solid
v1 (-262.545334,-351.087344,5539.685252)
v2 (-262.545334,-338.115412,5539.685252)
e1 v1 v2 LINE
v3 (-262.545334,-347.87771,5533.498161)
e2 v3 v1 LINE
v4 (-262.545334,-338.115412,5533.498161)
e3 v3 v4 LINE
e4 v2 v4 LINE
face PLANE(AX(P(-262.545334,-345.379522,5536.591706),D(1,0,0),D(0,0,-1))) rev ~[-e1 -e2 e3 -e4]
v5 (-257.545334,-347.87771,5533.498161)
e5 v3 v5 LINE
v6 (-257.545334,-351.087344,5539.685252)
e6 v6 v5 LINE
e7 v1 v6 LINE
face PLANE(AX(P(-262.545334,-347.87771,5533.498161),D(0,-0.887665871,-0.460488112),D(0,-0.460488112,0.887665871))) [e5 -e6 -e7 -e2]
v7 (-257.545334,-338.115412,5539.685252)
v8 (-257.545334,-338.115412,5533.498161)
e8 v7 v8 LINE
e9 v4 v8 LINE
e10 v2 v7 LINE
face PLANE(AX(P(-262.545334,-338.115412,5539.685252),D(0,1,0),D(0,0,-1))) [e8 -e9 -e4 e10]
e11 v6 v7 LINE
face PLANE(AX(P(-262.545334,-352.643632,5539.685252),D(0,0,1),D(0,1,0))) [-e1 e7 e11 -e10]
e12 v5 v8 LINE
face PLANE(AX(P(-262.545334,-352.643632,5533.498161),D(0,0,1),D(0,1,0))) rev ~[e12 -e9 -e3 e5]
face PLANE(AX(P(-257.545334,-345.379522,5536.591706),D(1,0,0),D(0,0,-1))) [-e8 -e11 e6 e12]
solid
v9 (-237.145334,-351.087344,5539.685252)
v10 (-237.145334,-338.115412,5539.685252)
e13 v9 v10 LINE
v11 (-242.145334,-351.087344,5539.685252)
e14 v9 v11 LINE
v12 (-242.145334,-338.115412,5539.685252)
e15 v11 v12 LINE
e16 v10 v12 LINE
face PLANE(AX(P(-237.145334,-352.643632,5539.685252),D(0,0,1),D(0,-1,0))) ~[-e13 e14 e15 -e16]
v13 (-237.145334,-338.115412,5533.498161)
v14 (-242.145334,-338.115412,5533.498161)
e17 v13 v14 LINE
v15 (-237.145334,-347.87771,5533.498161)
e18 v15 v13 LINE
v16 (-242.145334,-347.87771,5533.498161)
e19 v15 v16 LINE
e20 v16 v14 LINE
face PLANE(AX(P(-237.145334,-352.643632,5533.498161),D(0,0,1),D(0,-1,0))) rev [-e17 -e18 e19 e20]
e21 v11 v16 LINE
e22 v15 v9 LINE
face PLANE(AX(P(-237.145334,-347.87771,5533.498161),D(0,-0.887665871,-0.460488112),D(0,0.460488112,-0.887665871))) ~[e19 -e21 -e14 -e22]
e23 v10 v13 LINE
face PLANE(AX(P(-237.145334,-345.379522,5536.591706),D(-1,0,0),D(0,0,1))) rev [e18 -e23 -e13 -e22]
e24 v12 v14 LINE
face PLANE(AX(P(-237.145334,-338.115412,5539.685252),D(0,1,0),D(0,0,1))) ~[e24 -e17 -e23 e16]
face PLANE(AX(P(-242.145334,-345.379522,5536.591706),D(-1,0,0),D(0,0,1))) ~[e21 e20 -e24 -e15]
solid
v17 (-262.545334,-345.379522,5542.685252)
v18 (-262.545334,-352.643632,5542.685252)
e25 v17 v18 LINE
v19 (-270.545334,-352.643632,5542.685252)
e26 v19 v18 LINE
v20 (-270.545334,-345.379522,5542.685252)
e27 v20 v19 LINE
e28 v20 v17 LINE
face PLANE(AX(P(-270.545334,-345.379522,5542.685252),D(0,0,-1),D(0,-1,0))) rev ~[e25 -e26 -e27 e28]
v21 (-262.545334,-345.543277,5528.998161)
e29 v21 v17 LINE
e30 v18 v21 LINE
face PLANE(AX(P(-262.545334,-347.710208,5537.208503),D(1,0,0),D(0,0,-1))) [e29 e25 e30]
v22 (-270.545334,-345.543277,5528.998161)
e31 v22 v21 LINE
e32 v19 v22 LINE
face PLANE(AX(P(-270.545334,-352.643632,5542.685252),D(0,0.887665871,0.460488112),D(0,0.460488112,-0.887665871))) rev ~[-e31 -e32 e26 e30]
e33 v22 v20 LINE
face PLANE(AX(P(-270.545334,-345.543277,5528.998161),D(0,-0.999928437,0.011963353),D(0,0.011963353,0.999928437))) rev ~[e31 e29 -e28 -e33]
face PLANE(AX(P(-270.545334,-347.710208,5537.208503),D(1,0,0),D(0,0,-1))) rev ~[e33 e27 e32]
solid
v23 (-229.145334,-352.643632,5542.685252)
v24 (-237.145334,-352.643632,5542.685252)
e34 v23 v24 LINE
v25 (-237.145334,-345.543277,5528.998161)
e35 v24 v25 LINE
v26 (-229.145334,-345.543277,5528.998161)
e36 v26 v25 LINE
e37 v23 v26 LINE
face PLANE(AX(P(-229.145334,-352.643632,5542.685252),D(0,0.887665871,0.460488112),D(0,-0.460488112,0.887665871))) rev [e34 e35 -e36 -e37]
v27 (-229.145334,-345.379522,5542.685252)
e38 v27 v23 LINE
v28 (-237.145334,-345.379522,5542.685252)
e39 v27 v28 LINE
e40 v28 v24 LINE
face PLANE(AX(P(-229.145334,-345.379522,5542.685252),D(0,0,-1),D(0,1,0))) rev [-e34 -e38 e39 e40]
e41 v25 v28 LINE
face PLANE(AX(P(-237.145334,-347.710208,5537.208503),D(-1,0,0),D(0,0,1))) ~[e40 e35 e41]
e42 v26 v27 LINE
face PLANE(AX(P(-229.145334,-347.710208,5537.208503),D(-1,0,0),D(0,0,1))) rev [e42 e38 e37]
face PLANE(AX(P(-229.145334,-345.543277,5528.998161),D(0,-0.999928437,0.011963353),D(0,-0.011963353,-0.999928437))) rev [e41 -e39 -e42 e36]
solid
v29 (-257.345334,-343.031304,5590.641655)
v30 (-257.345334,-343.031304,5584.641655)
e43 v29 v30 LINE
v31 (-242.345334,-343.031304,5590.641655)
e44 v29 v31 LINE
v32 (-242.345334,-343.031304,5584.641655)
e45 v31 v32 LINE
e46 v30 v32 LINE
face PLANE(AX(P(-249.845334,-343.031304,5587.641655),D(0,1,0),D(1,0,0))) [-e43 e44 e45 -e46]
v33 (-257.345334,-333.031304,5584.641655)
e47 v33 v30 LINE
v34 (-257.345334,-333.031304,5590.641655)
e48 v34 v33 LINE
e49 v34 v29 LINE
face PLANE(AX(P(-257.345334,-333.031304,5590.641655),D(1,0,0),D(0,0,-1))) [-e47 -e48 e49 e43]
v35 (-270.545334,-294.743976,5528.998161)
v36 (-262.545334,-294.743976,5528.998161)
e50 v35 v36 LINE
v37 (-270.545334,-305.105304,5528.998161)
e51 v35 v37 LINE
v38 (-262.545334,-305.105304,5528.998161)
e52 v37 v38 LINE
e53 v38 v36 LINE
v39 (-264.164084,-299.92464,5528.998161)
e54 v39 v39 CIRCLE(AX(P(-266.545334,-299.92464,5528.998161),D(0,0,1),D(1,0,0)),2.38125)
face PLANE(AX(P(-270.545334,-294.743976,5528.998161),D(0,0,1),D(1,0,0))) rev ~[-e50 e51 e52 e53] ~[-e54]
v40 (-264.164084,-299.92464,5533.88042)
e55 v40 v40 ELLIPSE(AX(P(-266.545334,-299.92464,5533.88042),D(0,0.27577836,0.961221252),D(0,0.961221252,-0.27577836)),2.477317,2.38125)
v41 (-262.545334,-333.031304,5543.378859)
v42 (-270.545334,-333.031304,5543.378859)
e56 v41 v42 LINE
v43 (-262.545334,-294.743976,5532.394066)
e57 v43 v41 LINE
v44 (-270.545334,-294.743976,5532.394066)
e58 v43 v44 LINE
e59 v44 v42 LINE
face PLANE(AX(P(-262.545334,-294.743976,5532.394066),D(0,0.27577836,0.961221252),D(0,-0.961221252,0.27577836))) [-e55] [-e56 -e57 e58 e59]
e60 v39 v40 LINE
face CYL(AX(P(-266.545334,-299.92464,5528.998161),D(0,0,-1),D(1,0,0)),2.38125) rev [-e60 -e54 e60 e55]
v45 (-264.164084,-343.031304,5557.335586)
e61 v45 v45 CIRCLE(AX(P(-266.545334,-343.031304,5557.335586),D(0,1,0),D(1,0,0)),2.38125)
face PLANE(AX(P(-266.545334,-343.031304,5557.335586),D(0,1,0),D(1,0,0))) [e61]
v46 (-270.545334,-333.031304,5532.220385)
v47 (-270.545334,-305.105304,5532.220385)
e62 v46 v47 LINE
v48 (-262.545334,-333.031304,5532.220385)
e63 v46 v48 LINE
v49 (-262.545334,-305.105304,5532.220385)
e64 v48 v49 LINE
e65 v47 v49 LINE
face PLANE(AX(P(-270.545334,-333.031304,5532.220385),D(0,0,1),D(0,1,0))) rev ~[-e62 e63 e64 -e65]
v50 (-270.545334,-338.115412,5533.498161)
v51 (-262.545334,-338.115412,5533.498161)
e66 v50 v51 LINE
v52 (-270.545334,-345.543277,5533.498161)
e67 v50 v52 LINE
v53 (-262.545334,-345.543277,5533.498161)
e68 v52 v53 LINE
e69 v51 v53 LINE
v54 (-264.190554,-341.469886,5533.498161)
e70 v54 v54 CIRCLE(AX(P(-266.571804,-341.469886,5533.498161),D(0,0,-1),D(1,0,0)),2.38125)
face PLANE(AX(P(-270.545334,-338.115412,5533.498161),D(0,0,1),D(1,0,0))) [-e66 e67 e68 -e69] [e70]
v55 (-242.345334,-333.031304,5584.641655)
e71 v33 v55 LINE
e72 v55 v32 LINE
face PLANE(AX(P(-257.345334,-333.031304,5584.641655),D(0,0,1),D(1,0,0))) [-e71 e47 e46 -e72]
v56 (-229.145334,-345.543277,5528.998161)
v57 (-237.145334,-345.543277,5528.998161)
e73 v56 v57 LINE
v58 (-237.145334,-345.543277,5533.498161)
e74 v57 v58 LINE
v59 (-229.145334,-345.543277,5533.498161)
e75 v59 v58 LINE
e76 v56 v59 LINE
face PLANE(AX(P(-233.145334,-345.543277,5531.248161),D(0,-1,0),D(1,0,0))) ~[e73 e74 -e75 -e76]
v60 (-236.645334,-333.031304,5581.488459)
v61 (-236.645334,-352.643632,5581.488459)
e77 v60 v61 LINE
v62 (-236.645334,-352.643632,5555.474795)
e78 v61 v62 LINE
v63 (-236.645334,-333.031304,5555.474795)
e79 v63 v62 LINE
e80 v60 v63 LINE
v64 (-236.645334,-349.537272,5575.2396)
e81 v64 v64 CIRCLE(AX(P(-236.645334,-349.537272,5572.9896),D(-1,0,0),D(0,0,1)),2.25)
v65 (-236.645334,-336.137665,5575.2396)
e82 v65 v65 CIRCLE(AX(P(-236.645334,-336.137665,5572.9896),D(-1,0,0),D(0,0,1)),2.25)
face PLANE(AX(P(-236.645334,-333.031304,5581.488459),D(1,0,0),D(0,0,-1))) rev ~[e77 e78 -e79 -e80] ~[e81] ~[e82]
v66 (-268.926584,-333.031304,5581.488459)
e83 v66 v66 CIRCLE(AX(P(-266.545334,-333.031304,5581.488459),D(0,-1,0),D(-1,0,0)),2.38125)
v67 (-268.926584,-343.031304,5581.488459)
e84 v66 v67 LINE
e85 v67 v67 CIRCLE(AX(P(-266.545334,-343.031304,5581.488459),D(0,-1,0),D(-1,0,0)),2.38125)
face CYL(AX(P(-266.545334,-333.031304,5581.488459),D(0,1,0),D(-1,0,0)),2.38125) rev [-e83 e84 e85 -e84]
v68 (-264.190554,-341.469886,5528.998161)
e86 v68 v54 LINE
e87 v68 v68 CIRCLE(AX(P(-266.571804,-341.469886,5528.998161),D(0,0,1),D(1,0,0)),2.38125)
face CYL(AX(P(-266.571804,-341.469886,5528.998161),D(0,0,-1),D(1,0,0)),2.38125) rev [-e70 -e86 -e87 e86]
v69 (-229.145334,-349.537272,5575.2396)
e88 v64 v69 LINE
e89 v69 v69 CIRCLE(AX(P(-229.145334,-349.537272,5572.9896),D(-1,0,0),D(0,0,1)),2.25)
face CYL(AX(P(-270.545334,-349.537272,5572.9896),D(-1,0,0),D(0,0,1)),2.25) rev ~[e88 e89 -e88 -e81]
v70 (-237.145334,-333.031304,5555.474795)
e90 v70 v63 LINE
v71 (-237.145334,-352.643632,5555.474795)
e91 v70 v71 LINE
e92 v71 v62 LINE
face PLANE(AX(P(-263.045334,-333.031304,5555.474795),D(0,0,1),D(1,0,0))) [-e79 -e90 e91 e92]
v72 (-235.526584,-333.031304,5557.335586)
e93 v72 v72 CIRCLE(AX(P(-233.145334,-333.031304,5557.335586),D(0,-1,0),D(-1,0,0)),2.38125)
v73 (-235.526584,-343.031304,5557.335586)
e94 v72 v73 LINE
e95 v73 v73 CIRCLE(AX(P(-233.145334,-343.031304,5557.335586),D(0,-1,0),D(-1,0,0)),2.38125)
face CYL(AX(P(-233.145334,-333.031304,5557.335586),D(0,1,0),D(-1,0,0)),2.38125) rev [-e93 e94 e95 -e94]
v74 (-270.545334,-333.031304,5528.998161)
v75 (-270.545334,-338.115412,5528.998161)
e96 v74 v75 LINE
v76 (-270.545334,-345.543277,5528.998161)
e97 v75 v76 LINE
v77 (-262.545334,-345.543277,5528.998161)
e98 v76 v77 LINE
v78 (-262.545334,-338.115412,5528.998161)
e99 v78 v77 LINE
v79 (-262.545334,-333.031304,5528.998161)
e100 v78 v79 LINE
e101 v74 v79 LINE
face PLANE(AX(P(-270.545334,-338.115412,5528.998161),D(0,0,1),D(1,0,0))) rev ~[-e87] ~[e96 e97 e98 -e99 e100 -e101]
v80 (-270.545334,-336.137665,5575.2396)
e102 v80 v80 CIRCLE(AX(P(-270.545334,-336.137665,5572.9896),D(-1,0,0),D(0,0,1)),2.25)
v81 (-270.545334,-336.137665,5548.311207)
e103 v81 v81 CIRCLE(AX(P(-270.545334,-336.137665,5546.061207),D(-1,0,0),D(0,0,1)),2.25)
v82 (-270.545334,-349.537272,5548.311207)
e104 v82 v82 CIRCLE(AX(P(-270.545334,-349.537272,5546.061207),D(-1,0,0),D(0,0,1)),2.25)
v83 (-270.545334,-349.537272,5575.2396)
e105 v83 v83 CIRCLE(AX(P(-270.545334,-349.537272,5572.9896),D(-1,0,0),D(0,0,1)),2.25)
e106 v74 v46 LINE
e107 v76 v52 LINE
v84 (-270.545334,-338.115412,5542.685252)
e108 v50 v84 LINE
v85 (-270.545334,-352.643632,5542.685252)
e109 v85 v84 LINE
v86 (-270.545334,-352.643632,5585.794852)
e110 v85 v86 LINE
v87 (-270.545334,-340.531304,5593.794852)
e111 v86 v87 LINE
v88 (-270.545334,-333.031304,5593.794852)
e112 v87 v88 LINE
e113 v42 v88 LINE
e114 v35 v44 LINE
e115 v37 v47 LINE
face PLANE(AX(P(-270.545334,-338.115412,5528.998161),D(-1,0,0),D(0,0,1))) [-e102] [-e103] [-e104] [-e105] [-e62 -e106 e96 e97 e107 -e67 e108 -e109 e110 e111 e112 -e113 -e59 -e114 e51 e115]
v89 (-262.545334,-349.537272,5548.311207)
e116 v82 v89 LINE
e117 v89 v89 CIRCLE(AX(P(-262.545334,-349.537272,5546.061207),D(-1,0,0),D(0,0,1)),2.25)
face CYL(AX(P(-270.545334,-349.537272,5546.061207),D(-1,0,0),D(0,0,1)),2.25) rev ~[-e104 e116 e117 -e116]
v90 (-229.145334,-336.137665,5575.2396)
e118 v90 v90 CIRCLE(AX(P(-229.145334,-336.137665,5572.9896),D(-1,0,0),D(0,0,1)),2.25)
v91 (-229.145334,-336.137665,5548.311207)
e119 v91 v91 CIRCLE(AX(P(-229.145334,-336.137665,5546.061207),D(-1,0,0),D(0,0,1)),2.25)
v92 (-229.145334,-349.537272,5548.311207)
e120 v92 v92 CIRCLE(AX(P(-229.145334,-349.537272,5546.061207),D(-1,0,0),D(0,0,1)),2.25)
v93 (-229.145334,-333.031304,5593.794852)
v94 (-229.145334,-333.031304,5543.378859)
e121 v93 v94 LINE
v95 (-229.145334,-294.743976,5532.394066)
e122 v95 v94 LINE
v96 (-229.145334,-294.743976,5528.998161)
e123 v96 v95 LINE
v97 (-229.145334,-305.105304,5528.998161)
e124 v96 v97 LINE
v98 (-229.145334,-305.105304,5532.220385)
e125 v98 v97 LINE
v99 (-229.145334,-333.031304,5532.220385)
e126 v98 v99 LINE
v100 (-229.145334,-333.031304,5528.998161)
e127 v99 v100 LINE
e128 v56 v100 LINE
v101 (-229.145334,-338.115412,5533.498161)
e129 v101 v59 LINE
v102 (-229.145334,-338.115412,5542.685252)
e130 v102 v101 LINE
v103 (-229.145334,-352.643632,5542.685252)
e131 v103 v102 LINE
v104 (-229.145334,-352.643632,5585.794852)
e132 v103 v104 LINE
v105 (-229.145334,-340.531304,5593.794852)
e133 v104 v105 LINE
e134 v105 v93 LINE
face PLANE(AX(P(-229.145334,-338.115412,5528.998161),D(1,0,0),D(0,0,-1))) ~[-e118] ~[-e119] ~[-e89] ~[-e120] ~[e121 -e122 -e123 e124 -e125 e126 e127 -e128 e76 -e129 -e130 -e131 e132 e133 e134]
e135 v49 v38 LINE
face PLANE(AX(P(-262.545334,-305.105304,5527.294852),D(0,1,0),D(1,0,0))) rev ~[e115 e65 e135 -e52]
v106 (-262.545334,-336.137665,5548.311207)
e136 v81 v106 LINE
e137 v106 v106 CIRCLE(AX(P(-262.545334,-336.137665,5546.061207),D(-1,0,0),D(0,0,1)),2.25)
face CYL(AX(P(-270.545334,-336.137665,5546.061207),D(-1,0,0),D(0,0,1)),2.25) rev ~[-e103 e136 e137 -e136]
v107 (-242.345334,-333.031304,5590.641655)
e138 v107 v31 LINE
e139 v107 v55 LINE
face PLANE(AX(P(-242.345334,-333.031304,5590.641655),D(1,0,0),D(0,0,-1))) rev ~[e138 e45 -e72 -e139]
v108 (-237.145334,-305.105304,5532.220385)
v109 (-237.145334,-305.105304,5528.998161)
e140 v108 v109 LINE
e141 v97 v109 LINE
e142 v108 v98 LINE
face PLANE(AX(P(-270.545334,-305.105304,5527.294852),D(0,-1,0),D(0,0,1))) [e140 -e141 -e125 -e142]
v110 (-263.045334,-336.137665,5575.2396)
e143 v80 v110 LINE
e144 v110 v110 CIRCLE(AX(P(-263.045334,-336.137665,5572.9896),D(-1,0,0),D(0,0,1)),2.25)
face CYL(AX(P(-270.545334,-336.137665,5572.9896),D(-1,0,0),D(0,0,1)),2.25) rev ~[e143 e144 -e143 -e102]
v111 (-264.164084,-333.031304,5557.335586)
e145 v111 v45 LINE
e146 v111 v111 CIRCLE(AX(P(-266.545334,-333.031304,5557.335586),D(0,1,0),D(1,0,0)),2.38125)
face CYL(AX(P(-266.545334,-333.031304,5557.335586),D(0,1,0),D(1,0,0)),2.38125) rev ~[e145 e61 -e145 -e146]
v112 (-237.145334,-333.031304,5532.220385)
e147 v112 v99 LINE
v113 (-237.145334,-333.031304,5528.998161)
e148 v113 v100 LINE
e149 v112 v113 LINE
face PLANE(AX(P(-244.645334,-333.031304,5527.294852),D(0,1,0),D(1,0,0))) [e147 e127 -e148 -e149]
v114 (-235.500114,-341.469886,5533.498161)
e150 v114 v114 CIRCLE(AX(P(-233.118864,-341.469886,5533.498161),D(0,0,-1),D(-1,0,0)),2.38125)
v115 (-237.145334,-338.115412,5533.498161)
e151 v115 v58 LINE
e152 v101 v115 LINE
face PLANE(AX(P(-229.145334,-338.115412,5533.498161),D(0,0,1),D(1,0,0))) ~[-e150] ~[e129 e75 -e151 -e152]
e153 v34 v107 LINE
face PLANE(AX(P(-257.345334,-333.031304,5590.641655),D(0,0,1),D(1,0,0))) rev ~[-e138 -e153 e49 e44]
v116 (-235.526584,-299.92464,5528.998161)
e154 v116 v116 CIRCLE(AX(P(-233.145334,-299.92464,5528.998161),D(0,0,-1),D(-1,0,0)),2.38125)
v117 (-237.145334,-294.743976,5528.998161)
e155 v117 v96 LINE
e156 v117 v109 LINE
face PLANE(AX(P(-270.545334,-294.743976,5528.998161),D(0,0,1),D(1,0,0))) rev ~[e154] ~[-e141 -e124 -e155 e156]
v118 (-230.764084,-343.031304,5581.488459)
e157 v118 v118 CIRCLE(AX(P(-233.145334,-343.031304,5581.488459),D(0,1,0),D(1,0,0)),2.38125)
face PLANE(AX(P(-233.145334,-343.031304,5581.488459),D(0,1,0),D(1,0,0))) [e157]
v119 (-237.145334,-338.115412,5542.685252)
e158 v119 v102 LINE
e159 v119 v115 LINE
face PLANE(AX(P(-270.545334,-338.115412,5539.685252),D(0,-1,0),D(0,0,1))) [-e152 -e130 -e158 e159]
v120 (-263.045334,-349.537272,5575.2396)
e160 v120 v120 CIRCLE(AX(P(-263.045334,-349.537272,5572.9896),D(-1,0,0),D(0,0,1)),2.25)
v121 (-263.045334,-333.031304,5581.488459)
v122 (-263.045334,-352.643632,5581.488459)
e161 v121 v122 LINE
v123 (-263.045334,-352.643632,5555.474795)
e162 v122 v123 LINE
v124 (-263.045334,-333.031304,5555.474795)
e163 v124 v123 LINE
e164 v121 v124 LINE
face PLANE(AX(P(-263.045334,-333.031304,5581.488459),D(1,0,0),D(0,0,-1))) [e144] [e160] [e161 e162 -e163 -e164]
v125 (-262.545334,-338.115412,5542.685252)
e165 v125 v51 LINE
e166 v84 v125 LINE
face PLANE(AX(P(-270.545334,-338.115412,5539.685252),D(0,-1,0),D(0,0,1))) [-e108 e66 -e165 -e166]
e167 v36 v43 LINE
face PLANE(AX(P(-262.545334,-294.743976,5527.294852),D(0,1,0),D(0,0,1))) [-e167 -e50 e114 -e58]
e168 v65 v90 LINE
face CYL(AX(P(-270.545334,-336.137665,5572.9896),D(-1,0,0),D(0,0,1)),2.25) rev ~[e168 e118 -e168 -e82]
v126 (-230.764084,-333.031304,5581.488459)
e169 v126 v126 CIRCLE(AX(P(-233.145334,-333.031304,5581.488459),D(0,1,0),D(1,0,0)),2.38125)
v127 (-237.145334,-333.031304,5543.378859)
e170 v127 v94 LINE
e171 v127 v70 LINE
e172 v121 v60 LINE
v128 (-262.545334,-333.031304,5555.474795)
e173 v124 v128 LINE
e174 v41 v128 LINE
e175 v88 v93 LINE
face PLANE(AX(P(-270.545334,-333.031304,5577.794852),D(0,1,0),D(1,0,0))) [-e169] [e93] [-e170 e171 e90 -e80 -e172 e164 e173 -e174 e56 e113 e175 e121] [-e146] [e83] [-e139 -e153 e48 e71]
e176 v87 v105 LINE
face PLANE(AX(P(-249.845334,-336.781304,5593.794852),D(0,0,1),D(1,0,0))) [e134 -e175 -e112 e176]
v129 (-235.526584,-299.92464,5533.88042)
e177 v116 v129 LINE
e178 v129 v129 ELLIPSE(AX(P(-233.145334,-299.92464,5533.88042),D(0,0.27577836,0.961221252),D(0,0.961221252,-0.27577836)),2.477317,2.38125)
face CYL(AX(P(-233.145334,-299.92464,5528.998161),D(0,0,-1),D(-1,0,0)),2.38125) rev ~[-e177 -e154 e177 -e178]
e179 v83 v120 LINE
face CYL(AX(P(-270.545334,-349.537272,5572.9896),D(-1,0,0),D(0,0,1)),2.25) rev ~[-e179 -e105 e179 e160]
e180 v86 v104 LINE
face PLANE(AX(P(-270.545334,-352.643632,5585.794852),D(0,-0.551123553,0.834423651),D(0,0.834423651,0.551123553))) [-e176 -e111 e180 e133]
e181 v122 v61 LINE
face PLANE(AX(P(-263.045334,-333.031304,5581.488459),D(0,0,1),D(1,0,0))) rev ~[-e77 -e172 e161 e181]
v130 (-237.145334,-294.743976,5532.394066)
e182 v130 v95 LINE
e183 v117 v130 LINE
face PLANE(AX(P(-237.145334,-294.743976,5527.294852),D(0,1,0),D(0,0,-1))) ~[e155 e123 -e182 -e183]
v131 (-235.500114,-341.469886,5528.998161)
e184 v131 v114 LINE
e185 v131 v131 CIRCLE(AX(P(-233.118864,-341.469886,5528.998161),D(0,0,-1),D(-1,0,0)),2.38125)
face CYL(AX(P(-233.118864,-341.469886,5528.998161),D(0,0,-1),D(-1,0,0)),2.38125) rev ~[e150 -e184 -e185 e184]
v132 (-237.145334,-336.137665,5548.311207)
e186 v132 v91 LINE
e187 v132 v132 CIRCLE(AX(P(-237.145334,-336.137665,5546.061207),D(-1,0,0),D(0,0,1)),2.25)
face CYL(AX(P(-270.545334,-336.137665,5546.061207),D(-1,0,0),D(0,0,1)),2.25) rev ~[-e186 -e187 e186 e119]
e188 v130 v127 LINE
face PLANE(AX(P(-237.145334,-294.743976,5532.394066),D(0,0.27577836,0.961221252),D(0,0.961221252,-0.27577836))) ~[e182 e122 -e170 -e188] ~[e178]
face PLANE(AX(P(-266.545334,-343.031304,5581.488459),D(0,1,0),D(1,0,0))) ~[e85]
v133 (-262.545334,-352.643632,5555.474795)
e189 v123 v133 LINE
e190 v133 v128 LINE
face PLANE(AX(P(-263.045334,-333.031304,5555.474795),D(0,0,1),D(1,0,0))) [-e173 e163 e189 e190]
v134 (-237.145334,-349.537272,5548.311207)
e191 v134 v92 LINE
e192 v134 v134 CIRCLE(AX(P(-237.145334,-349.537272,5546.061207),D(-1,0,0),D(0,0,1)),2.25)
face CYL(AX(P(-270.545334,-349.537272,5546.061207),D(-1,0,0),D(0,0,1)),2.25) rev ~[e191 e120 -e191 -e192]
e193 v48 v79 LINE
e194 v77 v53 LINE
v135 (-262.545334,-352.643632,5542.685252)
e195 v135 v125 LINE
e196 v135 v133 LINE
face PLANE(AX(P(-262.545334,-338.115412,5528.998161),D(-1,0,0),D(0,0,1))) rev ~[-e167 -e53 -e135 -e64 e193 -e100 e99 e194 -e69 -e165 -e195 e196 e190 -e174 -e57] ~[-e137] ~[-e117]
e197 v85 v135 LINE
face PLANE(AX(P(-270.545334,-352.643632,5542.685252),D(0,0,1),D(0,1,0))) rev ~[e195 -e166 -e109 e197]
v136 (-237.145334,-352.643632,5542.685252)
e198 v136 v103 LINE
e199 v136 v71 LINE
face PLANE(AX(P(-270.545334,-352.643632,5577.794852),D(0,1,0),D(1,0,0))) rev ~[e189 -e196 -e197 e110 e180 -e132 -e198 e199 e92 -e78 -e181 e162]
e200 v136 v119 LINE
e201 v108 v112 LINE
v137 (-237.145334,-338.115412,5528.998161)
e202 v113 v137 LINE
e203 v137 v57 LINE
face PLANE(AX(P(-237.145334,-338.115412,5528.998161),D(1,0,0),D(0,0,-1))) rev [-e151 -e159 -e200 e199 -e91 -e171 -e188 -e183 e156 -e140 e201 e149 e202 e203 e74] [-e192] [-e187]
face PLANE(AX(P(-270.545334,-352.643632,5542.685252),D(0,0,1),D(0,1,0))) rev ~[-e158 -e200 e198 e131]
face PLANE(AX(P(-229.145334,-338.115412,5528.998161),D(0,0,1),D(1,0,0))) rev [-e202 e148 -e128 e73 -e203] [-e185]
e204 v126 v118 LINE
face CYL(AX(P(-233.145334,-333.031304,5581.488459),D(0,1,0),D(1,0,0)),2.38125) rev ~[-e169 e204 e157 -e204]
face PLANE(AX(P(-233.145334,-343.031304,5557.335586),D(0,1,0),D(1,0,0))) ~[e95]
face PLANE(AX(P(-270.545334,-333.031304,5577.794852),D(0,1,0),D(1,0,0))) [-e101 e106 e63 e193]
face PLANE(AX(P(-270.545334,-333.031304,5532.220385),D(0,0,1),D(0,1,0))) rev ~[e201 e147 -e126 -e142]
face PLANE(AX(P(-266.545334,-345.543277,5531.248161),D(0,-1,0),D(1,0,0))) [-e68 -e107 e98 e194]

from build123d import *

# Parameters (mm, degrees)
SKETCH1_W             = 7.5
SKETCH1_H             = 7.5
BOSS_EXTRUDE1_DEPTH   = 5.5
BOSS_EXTRUDE1_2_DEPTH = 5.5
BOSS_EXTRUDE1_3_DEPTH = 5.5
BOSS_EXTRUDE1_4_DEPTH = 5.5
BOSS_EXTRUDE2_START   = -5.5
SKETCH2_W             = 8
SKETCH2_H             = 7.5
BOSS_EXTRUDE2_DEPTH   = 50.5
SKETCH3_W             = 41.4
SKETCH3_H             = 7.5
BOSS_EXTRUDE3_DEPTH   = 16
BOSS_EXTRUDE4_DEPTH   = 8
SKETCH5_R             = 2.5
CUT_EXTRUDE1_DEPTH    = 8
SKETCH6_W             = 38.1096
SKETCH6_H             = 12.112327922
BOSS_EXTRUDE6_DEPTH   = 8
SKETCH9_W             = 41.4
SKETCH9_H             = 12.112327922
BOSS_EXTRUDE7_DEPTH   = 8
SKETCH10_R            = 2.25
CUT_EXTRUDE2_DEPTH    = 42.4
BOSS_EXTRUDE8_DEPTH   = 8
BOSS_EXTRUDE9_DEPTH   = 8
SKETCH13_W            = 4.925533285
SKETCH13_H            = 27.926
CUT_EXTRUDE3_DEPTH    = 42.4
BOSS_EXTRUDE10_DEPTH  = 41.4
SKETCH16_W            = 26.4
SKETCH16_H            = 26.013663936
CUT_EXTRUDE5_DEPTH    = 20.612327922
SKETCH17_W            = 25.4
SKETCH17_H            = 5.5
CUT_EXTRUDE6_DEPTH    = 50
SKETCH18_W            = 41.4
SKETCH18_H            = 1.703308899
CUT_EXTRUDE7_DEPTH    = 50
SKETCH19_R            = 2.38125
CUT_EXTRUDE8_DEPTH    = 50
SKETCH21_W            = 10.687091101
SKETCH21_H            = 14.528220305
CUT_EXTRUDE10_DEPTH   = 55
SKETCH22_W            = 8
SKETCH22_H            = 4.5
BOSS_EXTRUDE11_DEPTH  = 7.42786537
SKETCH23_R            = 2.38125
CUT_EXTRUDE11_DEPTH   = 5
SKETCH25_W            = 6.187091101
SKETCH25_H            = 14.528220305
BOSS_EXTRUDE12_DEPTH  = 5
SKETCH26_W            = 3
SKETCH26_H            = 14.528220305
CUT_EXTRUDE12_DEPTH   = 42.4
BOSS_EXTRUDE15_DEPTH  = 8
CUT_EXTRUDE13_DEPTH   = 34.4
SKETCH29_W            = 15
SKETCH29_H            = 6
CUT_EXTRUDE14_DEPTH   = 10
SKETCH30_R            = 2.38125
CUT_EXTRUDE15_DEPTH   = 10
SKETCH31_R            = 2.38125
CUT_EXTRUDE16_DEPTH   = 10


with BuildPart() as part:
    # Sketch1 → Boss-Extrude1 (new body)
    with BuildSketch(Plane(origin=(-474.147028746, -1016.113518437, 5527.294851894), x_dir=(1, 0, 0), z_dir=(0, 0, 1))):
        with Locations((215.351694909, 679.332213979)):
            Rectangle(SKETCH1_W, SKETCH1_H)
    extrude(amount=BOSS_EXTRUDE1_DEPTH)

    # Sketch2 → Boss-Extrude2 (add)
    with BuildSketch(Plane.XY.offset(5532.794851894).offset(BOSS_EXTRUDE2_START)):
        with Locations((-233.145333837, -336.781304458)):
            Rectangle(SKETCH2_W, SKETCH2_H)
        with Locations((-266.545333837, -336.781304458)):
            Rectangle(SKETCH2_W, SKETCH2_H)
    boss_extrude2 = extrude(amount=BOSS_EXTRUDE2_DEPTH)

    # Sketch3 → Boss-Extrude3 (add)
    with BuildSketch(Plane.XY.offset(5577.794851894)):
        with Locations((-249.845333837, -336.781304458)):
            Rectangle(SKETCH3_W, SKETCH3_H)
    extrude(amount=BOSS_EXTRUDE3_DEPTH)



with BuildPart() as body_2:
    # Sketch1 → Boss-Extrude1 2 (new body)
    with BuildSketch(Plane(origin=(-474.147028746, -1016.113518437, 5527.294851894), x_dir=(1, 0, 0), z_dir=(0, 0, 1))):
        with Locations((233.251694909, 679.332213979)):
            Rectangle(SKETCH1_W, SKETCH1_H)
    extrude(amount=BOSS_EXTRUDE1_2_DEPTH)


with BuildPart() as body_3:
    # Sketch1 → Boss-Extrude1 3 (new body)
    with BuildSketch(Plane(origin=(-474.147028746, -1016.113518437, 5527.294851894), x_dir=(1, 0, 0), z_dir=(0, 0, 1))):
        with Locations((233.251694909, 714.758213979)):
            Rectangle(SKETCH1_W, SKETCH1_H)
    extrude(amount=BOSS_EXTRUDE1_3_DEPTH)


with BuildPart() as body_4:
    # Sketch1 → Boss-Extrude1 4 (new body)
    with BuildSketch(Plane(origin=(-474.147028746, -1016.113518437, 5527.294851894), x_dir=(1, 0, 0), z_dir=(0, 0, 1))):
        with Locations((215.351694909, 714.758213979)):
            Rectangle(SKETCH1_W, SKETCH1_H)
    extrude(amount=BOSS_EXTRUDE1_4_DEPTH)


with BuildPart() as part_1:
    add(part.part)

    add(body_4.part)  # Boss-Extrude4 merges body 4
    # Sketch4 → Boss-Extrude4 (add)
    with BuildSketch(Plane.ZY.offset(262.545333837)):
        Polygon((5527.294851894, -333.031304458), (5527.294851894, -294.74397633), (5532.394065696, -294.74397633), (5543.378858785, -333.031304458), align=None)
    boss_extrude4 = extrude(amount=BOSS_EXTRUDE4_DEPTH)

    # Mirror1: Boss-Extrude2, Boss-Extrude4 across plane
    add(boss_extrude2.mirror(Plane.ZY.offset(249.845333837)))
    add(boss_extrude4.mirror(Plane.ZY.offset(249.845333837)))


with BuildPart() as cut_extrude1_tool:
    # Sketch5 → Cut-Extrude1 (new body)
    with BuildSketch(Plane.XY.offset(5532.794851894)):
        with Locations((-258.795333837, -301.355304458)):
            Circle(SKETCH5_R)
        with Locations((-240.895333837, -301.355304458)):
            Circle(SKETCH5_R)
        with Locations((-240.895333837, -336.781304458)):
            Circle(SKETCH5_R)
        with Locations((-258.795333837, -336.781304458)):
            Circle(SKETCH5_R)
    extrude(amount=-CUT_EXTRUDE1_DEPTH)


with BuildPart() as part_2:
    add(part_1.part)

    # Cut-Extrude1: cut by cut_extrude1_tool
    add(cut_extrude1_tool.part, mode=Mode.SUBTRACT)

    # Sketch6 → Boss-Extrude6 (add)
    with BuildSketch(Plane.ZY.offset(270.545333837)):
        with Locations((5558.740051894, -346.587468419)):
            Rectangle(SKETCH6_W, SKETCH6_H)
    boss_extrude6 = extrude(amount=-BOSS_EXTRUDE6_DEPTH)

    # Mirror2: Boss-Extrude6 across plane
    add(boss_extrude6.mirror(Plane.ZY.offset(249.845333837)))

    # Sketch9 → Boss-Extrude7 (add)
    with BuildSketch(Plane.XY.offset(5577.794851894)):
        with Locations((-249.845333837, -346.587468419)):
            Rectangle(SKETCH9_W, SKETCH9_H)
    extrude(amount=BOSS_EXTRUDE7_DEPTH)

    # Sketch10 → Cut-Extrude2 (cut, through all)
    with BuildSketch(Plane.ZY.offset(270.545333837)):
        with Locations((5546.061207304, -349.537271609)):
            Circle(SKETCH10_R)
        with Locations((5572.989599872, -349.537271609)):
            Circle(SKETCH10_R)
        with Locations((5546.061207304, -336.137665229)):
            Circle(SKETCH10_R)
        with Locations((5572.989599872, -336.137665229)):
            Circle(SKETCH10_R)
    extrude(amount=-CUT_EXTRUDE2_DEPTH, mode=Mode.SUBTRACT)

    # Sketch11 → Boss-Extrude8 (add)
    with BuildSketch(Plane.ZY.offset(270.545333837)):
        Polygon((5527.294851894, -340.372465198), (5539.685251894, -352.64363238), (5539.685251894, -340.531304458), align=None)
    extrude(amount=-BOSS_EXTRUDE8_DEPTH)



with BuildPart() as body_2_1:
    add(body_2.part)

    # Cut-Extrude1: cut by cut_extrude1_tool
    add(cut_extrude1_tool.part, mode=Mode.SUBTRACT)


with BuildPart() as body_3_1:
    add(body_3.part)

    # Cut-Extrude1: cut by cut_extrude1_tool
    add(cut_extrude1_tool.part, mode=Mode.SUBTRACT)


with BuildPart() as part_3:
    add(part_2.part)

    add(body_2_1.part)  # Boss-Extrude9 merges body 2
    # Sketch12 → Boss-Extrude9 (add)
    with BuildSketch(Plane(origin=(-229.145333837, 0, 0), x_dir=(0, 0, -1), z_dir=(1, 0, 0))):
        Polygon((-5539.685251894, -352.64363238), (-5527.294851894, -340.531304458), (-5539.685251894, -340.531304458), align=None)
    extrude(amount=-BOSS_EXTRUDE9_DEPTH)

    # Sketch13 → Cut-Extrude3 (cut, through all)
    with BuildSketch(Plane.ZY.offset(270.545333837)):
        with Locations((5529.757618536, -319.068304458)):
            Rectangle(SKETCH13_W, SKETCH13_H)
    extrude(amount=-CUT_EXTRUDE3_DEPTH, mode=Mode.SUBTRACT)

    # Sketch14 → Boss-Extrude10 (add)
    with BuildSketch(Plane.ZY.offset(270.545333837)):
        Polygon((5585.794851894, -352.64363238), (5593.794851894, -340.531304458), (5585.794851894, -340.531304458), align=None)
    extrude(amount=-BOSS_EXTRUDE10_DEPTH)

    # Sketch16 → Cut-Extrude5 (cut, through all)
    with BuildSketch(Plane(origin=(0, -333.031304458, 0), x_dir=(1, 0, 0), z_dir=(0, 1, 0))):
        with Locations((-249.845333837, -5568.481626817)):
            Rectangle(SKETCH16_W, SKETCH16_H)
    extrude(amount=-CUT_EXTRUDE5_DEPTH, mode=Mode.SUBTRACT)


with BuildPart() as cut_extrude6_tool:
    # Sketch17 → Cut-Extrude6 (new body)
    with BuildSketch(Plane(origin=(0, -297.605304458, 0), x_dir=(1, 0, 0), z_dir=(0, 1, 0))):
        with Locations((-249.845333837, -5530.044851894)):
            Rectangle(SKETCH17_W, SKETCH17_H)
    extrude(amount=-CUT_EXTRUDE6_DEPTH)


with BuildPart() as part_4:
    add(part_3.part)

    # Cut-Extrude6: cut by cut_extrude6_tool
    add(cut_extrude6_tool.part, mode=Mode.SUBTRACT)

    # Sketch18 → Cut-Extrude7 (cut)
    with BuildSketch(Plane(origin=(0, -294.74397633, 0), x_dir=(1, 0, 0), z_dir=(0, 1, 0))):
        with Locations((-249.845333837, -5528.146506344)):
            Rectangle(SKETCH18_W, SKETCH18_H)
    extrude(amount=-CUT_EXTRUDE7_DEPTH, mode=Mode.SUBTRACT)

    # Sketch19 → Cut-Extrude8 (cut)
    with BuildSketch(Plane(origin=(0, 0, 5528.998160793), x_dir=(-1, 0, 0), z_dir=(0, 0, -1))):
        with Locations((233.145333837, -299.924640394)):
            Circle(SKETCH19_R)
    cut_extrude8 = extrude(amount=-CUT_EXTRUDE8_DEPTH, mode=Mode.SUBTRACT)

    # Sketch21 → Cut-Extrude10 (cut)
    with BuildSketch(Plane.ZY.offset(270.545333837)):
        with Locations((5534.341706344, -345.379522228)):
            Rectangle(SKETCH21_W, SKETCH21_H)
    extrude(amount=-CUT_EXTRUDE10_DEPTH, mode=Mode.SUBTRACT)

    # Sketch22 → Boss-Extrude11 (add)
    with BuildSketch(Plane.XZ.offset(338.115412075)):
        with Locations((-266.545333837, 5531.248160793)):
            Rectangle(SKETCH22_W, SKETCH22_H)
    boss_extrude11 = extrude(amount=BOSS_EXTRUDE11_DEPTH)

    # Mirror5: Boss-Extrude11 across plane
    add(boss_extrude11.mirror(Plane.ZY.offset(249.845333837)))

    # Sketch23 → Cut-Extrude11 (cut)
    with BuildSketch(Plane(origin=(0, 0, 5528.998160793), x_dir=(-1, 0, 0), z_dir=(0, 0, -1))):
        with Locations((233.118864035, -341.469886082)):
            Circle(SKETCH23_R)
    cut_extrude11 = extrude(amount=-CUT_EXTRUDE11_DEPTH, mode=Mode.SUBTRACT)

    # Sketch26 → Cut-Extrude12 (cut, through all)
    with BuildSketch(Plane.ZY.offset(270.545333837)):
        with Locations((5541.185251894, -345.379522228)):
            Rectangle(SKETCH26_W, SKETCH26_H)
    extrude(amount=-CUT_EXTRUDE12_DEPTH, mode=Mode.SUBTRACT)

    # Mirror6: Cut-Extrude11 across plane
    add(cut_extrude11.mirror(Plane.ZY.offset(249.845333837)), mode=Mode.SUBTRACT)

    # Sketch29 → Cut-Extrude14 (cut)
    with BuildSketch(Plane(origin=(0, -333.031304458, 0), x_dir=(1, 0, 0), z_dir=(0, 1, 0))):
        with Locations((-249.845333837, -5587.64165534)):
            Rectangle(SKETCH29_W, SKETCH29_H)
    extrude(amount=-CUT_EXTRUDE14_DEPTH, mode=Mode.SUBTRACT)

    # Sketch30 → Cut-Extrude15 (cut)
    with BuildSketch(Plane(origin=(0, -333.031304458, 0), x_dir=(1, 0, 0), z_dir=(0, 1, 0))):
        with Locations((-266.545333837, -5557.335586136)):
            Circle(SKETCH30_R)
    cut_extrude15 = extrude(amount=-CUT_EXTRUDE15_DEPTH, mode=Mode.SUBTRACT)

    # Sketch31 → Cut-Extrude16 (cut)
    with BuildSketch(Plane(origin=(0, -333.031304458, 0), x_dir=(1, 0, 0), z_dir=(0, 1, 0))):
        with Locations((-233.145333837, -5581.488458785)):
            Circle(SKETCH31_R)
    cut_extrude16 = extrude(amount=-CUT_EXTRUDE16_DEPTH, mode=Mode.SUBTRACT)

    # Mirror12: Cut-Extrude15, Cut-Extrude16 across plane
    add(cut_extrude15.mirror(Plane.ZY.offset(249.845333837)), mode=Mode.SUBTRACT)
    add(cut_extrude16.mirror(Plane.ZY.offset(249.845333837)), mode=Mode.SUBTRACT)

    # Mirror13: Cut-Extrude8 across plane
    add(cut_extrude8.mirror(Plane.ZY.offset(249.845333837)), mode=Mode.SUBTRACT)


with BuildPart() as body_3_2:
    add(body_3_1.part)

    # Cut-Extrude6: cut by cut_extrude6_tool
    add(cut_extrude6_tool.part, mode=Mode.SUBTRACT)


with BuildPart() as body_2_2:
    # Sketch25 → Boss-Extrude12 (new body)
    with BuildSketch(Plane(origin=(-262.545333837, 0, 0), x_dir=(0, 0, -1), z_dir=(1, 0, 0))):
        with Locations((-5536.591706344, -345.379522228)):
            Rectangle(SKETCH25_W, SKETCH25_H)
    extrude(amount=BOSS_EXTRUDE12_DEPTH)

    # Sketch28 → Cut-Extrude13 (cut, through all)
    with BuildSketch(Plane.ZY.offset(262.545333837)):
        Polygon((5533.498160793, -347.87771045), (5539.685251894, -351.08734371), (5543.378858785, -359.563611735), (5533.262204425, -359.563611735), align=None)
    extrude(amount=-CUT_EXTRUDE13_DEPTH, mode=Mode.SUBTRACT)


with BuildPart() as body_3_2_1:
    # Sketch27 → Boss-Extrude15 (new body)
    with BuildSketch(Plane.ZY.offset(270.545333837)):
        Polygon((5542.685251894, -352.64363238), (5528.998160793, -345.543277445), (5542.685251894, -345.379522228), align=None)
    extrude(amount=-BOSS_EXTRUDE15_DEPTH)


with BuildPart() as body_4_2:
    # Mirror11: mirrored copy
    add(body_2_2.part.mirror(Plane.ZY.offset(249.845333837)))


with BuildPart() as body_5:
    # Mirror11 2: mirrored copy
    add(body_3_2_1.part.mirror(Plane.ZY.offset(249.845333837)))


solid = Compound([part_4.part, body_2_2.part, body_3_2_1.part, body_4_2.part, body_5.part])
